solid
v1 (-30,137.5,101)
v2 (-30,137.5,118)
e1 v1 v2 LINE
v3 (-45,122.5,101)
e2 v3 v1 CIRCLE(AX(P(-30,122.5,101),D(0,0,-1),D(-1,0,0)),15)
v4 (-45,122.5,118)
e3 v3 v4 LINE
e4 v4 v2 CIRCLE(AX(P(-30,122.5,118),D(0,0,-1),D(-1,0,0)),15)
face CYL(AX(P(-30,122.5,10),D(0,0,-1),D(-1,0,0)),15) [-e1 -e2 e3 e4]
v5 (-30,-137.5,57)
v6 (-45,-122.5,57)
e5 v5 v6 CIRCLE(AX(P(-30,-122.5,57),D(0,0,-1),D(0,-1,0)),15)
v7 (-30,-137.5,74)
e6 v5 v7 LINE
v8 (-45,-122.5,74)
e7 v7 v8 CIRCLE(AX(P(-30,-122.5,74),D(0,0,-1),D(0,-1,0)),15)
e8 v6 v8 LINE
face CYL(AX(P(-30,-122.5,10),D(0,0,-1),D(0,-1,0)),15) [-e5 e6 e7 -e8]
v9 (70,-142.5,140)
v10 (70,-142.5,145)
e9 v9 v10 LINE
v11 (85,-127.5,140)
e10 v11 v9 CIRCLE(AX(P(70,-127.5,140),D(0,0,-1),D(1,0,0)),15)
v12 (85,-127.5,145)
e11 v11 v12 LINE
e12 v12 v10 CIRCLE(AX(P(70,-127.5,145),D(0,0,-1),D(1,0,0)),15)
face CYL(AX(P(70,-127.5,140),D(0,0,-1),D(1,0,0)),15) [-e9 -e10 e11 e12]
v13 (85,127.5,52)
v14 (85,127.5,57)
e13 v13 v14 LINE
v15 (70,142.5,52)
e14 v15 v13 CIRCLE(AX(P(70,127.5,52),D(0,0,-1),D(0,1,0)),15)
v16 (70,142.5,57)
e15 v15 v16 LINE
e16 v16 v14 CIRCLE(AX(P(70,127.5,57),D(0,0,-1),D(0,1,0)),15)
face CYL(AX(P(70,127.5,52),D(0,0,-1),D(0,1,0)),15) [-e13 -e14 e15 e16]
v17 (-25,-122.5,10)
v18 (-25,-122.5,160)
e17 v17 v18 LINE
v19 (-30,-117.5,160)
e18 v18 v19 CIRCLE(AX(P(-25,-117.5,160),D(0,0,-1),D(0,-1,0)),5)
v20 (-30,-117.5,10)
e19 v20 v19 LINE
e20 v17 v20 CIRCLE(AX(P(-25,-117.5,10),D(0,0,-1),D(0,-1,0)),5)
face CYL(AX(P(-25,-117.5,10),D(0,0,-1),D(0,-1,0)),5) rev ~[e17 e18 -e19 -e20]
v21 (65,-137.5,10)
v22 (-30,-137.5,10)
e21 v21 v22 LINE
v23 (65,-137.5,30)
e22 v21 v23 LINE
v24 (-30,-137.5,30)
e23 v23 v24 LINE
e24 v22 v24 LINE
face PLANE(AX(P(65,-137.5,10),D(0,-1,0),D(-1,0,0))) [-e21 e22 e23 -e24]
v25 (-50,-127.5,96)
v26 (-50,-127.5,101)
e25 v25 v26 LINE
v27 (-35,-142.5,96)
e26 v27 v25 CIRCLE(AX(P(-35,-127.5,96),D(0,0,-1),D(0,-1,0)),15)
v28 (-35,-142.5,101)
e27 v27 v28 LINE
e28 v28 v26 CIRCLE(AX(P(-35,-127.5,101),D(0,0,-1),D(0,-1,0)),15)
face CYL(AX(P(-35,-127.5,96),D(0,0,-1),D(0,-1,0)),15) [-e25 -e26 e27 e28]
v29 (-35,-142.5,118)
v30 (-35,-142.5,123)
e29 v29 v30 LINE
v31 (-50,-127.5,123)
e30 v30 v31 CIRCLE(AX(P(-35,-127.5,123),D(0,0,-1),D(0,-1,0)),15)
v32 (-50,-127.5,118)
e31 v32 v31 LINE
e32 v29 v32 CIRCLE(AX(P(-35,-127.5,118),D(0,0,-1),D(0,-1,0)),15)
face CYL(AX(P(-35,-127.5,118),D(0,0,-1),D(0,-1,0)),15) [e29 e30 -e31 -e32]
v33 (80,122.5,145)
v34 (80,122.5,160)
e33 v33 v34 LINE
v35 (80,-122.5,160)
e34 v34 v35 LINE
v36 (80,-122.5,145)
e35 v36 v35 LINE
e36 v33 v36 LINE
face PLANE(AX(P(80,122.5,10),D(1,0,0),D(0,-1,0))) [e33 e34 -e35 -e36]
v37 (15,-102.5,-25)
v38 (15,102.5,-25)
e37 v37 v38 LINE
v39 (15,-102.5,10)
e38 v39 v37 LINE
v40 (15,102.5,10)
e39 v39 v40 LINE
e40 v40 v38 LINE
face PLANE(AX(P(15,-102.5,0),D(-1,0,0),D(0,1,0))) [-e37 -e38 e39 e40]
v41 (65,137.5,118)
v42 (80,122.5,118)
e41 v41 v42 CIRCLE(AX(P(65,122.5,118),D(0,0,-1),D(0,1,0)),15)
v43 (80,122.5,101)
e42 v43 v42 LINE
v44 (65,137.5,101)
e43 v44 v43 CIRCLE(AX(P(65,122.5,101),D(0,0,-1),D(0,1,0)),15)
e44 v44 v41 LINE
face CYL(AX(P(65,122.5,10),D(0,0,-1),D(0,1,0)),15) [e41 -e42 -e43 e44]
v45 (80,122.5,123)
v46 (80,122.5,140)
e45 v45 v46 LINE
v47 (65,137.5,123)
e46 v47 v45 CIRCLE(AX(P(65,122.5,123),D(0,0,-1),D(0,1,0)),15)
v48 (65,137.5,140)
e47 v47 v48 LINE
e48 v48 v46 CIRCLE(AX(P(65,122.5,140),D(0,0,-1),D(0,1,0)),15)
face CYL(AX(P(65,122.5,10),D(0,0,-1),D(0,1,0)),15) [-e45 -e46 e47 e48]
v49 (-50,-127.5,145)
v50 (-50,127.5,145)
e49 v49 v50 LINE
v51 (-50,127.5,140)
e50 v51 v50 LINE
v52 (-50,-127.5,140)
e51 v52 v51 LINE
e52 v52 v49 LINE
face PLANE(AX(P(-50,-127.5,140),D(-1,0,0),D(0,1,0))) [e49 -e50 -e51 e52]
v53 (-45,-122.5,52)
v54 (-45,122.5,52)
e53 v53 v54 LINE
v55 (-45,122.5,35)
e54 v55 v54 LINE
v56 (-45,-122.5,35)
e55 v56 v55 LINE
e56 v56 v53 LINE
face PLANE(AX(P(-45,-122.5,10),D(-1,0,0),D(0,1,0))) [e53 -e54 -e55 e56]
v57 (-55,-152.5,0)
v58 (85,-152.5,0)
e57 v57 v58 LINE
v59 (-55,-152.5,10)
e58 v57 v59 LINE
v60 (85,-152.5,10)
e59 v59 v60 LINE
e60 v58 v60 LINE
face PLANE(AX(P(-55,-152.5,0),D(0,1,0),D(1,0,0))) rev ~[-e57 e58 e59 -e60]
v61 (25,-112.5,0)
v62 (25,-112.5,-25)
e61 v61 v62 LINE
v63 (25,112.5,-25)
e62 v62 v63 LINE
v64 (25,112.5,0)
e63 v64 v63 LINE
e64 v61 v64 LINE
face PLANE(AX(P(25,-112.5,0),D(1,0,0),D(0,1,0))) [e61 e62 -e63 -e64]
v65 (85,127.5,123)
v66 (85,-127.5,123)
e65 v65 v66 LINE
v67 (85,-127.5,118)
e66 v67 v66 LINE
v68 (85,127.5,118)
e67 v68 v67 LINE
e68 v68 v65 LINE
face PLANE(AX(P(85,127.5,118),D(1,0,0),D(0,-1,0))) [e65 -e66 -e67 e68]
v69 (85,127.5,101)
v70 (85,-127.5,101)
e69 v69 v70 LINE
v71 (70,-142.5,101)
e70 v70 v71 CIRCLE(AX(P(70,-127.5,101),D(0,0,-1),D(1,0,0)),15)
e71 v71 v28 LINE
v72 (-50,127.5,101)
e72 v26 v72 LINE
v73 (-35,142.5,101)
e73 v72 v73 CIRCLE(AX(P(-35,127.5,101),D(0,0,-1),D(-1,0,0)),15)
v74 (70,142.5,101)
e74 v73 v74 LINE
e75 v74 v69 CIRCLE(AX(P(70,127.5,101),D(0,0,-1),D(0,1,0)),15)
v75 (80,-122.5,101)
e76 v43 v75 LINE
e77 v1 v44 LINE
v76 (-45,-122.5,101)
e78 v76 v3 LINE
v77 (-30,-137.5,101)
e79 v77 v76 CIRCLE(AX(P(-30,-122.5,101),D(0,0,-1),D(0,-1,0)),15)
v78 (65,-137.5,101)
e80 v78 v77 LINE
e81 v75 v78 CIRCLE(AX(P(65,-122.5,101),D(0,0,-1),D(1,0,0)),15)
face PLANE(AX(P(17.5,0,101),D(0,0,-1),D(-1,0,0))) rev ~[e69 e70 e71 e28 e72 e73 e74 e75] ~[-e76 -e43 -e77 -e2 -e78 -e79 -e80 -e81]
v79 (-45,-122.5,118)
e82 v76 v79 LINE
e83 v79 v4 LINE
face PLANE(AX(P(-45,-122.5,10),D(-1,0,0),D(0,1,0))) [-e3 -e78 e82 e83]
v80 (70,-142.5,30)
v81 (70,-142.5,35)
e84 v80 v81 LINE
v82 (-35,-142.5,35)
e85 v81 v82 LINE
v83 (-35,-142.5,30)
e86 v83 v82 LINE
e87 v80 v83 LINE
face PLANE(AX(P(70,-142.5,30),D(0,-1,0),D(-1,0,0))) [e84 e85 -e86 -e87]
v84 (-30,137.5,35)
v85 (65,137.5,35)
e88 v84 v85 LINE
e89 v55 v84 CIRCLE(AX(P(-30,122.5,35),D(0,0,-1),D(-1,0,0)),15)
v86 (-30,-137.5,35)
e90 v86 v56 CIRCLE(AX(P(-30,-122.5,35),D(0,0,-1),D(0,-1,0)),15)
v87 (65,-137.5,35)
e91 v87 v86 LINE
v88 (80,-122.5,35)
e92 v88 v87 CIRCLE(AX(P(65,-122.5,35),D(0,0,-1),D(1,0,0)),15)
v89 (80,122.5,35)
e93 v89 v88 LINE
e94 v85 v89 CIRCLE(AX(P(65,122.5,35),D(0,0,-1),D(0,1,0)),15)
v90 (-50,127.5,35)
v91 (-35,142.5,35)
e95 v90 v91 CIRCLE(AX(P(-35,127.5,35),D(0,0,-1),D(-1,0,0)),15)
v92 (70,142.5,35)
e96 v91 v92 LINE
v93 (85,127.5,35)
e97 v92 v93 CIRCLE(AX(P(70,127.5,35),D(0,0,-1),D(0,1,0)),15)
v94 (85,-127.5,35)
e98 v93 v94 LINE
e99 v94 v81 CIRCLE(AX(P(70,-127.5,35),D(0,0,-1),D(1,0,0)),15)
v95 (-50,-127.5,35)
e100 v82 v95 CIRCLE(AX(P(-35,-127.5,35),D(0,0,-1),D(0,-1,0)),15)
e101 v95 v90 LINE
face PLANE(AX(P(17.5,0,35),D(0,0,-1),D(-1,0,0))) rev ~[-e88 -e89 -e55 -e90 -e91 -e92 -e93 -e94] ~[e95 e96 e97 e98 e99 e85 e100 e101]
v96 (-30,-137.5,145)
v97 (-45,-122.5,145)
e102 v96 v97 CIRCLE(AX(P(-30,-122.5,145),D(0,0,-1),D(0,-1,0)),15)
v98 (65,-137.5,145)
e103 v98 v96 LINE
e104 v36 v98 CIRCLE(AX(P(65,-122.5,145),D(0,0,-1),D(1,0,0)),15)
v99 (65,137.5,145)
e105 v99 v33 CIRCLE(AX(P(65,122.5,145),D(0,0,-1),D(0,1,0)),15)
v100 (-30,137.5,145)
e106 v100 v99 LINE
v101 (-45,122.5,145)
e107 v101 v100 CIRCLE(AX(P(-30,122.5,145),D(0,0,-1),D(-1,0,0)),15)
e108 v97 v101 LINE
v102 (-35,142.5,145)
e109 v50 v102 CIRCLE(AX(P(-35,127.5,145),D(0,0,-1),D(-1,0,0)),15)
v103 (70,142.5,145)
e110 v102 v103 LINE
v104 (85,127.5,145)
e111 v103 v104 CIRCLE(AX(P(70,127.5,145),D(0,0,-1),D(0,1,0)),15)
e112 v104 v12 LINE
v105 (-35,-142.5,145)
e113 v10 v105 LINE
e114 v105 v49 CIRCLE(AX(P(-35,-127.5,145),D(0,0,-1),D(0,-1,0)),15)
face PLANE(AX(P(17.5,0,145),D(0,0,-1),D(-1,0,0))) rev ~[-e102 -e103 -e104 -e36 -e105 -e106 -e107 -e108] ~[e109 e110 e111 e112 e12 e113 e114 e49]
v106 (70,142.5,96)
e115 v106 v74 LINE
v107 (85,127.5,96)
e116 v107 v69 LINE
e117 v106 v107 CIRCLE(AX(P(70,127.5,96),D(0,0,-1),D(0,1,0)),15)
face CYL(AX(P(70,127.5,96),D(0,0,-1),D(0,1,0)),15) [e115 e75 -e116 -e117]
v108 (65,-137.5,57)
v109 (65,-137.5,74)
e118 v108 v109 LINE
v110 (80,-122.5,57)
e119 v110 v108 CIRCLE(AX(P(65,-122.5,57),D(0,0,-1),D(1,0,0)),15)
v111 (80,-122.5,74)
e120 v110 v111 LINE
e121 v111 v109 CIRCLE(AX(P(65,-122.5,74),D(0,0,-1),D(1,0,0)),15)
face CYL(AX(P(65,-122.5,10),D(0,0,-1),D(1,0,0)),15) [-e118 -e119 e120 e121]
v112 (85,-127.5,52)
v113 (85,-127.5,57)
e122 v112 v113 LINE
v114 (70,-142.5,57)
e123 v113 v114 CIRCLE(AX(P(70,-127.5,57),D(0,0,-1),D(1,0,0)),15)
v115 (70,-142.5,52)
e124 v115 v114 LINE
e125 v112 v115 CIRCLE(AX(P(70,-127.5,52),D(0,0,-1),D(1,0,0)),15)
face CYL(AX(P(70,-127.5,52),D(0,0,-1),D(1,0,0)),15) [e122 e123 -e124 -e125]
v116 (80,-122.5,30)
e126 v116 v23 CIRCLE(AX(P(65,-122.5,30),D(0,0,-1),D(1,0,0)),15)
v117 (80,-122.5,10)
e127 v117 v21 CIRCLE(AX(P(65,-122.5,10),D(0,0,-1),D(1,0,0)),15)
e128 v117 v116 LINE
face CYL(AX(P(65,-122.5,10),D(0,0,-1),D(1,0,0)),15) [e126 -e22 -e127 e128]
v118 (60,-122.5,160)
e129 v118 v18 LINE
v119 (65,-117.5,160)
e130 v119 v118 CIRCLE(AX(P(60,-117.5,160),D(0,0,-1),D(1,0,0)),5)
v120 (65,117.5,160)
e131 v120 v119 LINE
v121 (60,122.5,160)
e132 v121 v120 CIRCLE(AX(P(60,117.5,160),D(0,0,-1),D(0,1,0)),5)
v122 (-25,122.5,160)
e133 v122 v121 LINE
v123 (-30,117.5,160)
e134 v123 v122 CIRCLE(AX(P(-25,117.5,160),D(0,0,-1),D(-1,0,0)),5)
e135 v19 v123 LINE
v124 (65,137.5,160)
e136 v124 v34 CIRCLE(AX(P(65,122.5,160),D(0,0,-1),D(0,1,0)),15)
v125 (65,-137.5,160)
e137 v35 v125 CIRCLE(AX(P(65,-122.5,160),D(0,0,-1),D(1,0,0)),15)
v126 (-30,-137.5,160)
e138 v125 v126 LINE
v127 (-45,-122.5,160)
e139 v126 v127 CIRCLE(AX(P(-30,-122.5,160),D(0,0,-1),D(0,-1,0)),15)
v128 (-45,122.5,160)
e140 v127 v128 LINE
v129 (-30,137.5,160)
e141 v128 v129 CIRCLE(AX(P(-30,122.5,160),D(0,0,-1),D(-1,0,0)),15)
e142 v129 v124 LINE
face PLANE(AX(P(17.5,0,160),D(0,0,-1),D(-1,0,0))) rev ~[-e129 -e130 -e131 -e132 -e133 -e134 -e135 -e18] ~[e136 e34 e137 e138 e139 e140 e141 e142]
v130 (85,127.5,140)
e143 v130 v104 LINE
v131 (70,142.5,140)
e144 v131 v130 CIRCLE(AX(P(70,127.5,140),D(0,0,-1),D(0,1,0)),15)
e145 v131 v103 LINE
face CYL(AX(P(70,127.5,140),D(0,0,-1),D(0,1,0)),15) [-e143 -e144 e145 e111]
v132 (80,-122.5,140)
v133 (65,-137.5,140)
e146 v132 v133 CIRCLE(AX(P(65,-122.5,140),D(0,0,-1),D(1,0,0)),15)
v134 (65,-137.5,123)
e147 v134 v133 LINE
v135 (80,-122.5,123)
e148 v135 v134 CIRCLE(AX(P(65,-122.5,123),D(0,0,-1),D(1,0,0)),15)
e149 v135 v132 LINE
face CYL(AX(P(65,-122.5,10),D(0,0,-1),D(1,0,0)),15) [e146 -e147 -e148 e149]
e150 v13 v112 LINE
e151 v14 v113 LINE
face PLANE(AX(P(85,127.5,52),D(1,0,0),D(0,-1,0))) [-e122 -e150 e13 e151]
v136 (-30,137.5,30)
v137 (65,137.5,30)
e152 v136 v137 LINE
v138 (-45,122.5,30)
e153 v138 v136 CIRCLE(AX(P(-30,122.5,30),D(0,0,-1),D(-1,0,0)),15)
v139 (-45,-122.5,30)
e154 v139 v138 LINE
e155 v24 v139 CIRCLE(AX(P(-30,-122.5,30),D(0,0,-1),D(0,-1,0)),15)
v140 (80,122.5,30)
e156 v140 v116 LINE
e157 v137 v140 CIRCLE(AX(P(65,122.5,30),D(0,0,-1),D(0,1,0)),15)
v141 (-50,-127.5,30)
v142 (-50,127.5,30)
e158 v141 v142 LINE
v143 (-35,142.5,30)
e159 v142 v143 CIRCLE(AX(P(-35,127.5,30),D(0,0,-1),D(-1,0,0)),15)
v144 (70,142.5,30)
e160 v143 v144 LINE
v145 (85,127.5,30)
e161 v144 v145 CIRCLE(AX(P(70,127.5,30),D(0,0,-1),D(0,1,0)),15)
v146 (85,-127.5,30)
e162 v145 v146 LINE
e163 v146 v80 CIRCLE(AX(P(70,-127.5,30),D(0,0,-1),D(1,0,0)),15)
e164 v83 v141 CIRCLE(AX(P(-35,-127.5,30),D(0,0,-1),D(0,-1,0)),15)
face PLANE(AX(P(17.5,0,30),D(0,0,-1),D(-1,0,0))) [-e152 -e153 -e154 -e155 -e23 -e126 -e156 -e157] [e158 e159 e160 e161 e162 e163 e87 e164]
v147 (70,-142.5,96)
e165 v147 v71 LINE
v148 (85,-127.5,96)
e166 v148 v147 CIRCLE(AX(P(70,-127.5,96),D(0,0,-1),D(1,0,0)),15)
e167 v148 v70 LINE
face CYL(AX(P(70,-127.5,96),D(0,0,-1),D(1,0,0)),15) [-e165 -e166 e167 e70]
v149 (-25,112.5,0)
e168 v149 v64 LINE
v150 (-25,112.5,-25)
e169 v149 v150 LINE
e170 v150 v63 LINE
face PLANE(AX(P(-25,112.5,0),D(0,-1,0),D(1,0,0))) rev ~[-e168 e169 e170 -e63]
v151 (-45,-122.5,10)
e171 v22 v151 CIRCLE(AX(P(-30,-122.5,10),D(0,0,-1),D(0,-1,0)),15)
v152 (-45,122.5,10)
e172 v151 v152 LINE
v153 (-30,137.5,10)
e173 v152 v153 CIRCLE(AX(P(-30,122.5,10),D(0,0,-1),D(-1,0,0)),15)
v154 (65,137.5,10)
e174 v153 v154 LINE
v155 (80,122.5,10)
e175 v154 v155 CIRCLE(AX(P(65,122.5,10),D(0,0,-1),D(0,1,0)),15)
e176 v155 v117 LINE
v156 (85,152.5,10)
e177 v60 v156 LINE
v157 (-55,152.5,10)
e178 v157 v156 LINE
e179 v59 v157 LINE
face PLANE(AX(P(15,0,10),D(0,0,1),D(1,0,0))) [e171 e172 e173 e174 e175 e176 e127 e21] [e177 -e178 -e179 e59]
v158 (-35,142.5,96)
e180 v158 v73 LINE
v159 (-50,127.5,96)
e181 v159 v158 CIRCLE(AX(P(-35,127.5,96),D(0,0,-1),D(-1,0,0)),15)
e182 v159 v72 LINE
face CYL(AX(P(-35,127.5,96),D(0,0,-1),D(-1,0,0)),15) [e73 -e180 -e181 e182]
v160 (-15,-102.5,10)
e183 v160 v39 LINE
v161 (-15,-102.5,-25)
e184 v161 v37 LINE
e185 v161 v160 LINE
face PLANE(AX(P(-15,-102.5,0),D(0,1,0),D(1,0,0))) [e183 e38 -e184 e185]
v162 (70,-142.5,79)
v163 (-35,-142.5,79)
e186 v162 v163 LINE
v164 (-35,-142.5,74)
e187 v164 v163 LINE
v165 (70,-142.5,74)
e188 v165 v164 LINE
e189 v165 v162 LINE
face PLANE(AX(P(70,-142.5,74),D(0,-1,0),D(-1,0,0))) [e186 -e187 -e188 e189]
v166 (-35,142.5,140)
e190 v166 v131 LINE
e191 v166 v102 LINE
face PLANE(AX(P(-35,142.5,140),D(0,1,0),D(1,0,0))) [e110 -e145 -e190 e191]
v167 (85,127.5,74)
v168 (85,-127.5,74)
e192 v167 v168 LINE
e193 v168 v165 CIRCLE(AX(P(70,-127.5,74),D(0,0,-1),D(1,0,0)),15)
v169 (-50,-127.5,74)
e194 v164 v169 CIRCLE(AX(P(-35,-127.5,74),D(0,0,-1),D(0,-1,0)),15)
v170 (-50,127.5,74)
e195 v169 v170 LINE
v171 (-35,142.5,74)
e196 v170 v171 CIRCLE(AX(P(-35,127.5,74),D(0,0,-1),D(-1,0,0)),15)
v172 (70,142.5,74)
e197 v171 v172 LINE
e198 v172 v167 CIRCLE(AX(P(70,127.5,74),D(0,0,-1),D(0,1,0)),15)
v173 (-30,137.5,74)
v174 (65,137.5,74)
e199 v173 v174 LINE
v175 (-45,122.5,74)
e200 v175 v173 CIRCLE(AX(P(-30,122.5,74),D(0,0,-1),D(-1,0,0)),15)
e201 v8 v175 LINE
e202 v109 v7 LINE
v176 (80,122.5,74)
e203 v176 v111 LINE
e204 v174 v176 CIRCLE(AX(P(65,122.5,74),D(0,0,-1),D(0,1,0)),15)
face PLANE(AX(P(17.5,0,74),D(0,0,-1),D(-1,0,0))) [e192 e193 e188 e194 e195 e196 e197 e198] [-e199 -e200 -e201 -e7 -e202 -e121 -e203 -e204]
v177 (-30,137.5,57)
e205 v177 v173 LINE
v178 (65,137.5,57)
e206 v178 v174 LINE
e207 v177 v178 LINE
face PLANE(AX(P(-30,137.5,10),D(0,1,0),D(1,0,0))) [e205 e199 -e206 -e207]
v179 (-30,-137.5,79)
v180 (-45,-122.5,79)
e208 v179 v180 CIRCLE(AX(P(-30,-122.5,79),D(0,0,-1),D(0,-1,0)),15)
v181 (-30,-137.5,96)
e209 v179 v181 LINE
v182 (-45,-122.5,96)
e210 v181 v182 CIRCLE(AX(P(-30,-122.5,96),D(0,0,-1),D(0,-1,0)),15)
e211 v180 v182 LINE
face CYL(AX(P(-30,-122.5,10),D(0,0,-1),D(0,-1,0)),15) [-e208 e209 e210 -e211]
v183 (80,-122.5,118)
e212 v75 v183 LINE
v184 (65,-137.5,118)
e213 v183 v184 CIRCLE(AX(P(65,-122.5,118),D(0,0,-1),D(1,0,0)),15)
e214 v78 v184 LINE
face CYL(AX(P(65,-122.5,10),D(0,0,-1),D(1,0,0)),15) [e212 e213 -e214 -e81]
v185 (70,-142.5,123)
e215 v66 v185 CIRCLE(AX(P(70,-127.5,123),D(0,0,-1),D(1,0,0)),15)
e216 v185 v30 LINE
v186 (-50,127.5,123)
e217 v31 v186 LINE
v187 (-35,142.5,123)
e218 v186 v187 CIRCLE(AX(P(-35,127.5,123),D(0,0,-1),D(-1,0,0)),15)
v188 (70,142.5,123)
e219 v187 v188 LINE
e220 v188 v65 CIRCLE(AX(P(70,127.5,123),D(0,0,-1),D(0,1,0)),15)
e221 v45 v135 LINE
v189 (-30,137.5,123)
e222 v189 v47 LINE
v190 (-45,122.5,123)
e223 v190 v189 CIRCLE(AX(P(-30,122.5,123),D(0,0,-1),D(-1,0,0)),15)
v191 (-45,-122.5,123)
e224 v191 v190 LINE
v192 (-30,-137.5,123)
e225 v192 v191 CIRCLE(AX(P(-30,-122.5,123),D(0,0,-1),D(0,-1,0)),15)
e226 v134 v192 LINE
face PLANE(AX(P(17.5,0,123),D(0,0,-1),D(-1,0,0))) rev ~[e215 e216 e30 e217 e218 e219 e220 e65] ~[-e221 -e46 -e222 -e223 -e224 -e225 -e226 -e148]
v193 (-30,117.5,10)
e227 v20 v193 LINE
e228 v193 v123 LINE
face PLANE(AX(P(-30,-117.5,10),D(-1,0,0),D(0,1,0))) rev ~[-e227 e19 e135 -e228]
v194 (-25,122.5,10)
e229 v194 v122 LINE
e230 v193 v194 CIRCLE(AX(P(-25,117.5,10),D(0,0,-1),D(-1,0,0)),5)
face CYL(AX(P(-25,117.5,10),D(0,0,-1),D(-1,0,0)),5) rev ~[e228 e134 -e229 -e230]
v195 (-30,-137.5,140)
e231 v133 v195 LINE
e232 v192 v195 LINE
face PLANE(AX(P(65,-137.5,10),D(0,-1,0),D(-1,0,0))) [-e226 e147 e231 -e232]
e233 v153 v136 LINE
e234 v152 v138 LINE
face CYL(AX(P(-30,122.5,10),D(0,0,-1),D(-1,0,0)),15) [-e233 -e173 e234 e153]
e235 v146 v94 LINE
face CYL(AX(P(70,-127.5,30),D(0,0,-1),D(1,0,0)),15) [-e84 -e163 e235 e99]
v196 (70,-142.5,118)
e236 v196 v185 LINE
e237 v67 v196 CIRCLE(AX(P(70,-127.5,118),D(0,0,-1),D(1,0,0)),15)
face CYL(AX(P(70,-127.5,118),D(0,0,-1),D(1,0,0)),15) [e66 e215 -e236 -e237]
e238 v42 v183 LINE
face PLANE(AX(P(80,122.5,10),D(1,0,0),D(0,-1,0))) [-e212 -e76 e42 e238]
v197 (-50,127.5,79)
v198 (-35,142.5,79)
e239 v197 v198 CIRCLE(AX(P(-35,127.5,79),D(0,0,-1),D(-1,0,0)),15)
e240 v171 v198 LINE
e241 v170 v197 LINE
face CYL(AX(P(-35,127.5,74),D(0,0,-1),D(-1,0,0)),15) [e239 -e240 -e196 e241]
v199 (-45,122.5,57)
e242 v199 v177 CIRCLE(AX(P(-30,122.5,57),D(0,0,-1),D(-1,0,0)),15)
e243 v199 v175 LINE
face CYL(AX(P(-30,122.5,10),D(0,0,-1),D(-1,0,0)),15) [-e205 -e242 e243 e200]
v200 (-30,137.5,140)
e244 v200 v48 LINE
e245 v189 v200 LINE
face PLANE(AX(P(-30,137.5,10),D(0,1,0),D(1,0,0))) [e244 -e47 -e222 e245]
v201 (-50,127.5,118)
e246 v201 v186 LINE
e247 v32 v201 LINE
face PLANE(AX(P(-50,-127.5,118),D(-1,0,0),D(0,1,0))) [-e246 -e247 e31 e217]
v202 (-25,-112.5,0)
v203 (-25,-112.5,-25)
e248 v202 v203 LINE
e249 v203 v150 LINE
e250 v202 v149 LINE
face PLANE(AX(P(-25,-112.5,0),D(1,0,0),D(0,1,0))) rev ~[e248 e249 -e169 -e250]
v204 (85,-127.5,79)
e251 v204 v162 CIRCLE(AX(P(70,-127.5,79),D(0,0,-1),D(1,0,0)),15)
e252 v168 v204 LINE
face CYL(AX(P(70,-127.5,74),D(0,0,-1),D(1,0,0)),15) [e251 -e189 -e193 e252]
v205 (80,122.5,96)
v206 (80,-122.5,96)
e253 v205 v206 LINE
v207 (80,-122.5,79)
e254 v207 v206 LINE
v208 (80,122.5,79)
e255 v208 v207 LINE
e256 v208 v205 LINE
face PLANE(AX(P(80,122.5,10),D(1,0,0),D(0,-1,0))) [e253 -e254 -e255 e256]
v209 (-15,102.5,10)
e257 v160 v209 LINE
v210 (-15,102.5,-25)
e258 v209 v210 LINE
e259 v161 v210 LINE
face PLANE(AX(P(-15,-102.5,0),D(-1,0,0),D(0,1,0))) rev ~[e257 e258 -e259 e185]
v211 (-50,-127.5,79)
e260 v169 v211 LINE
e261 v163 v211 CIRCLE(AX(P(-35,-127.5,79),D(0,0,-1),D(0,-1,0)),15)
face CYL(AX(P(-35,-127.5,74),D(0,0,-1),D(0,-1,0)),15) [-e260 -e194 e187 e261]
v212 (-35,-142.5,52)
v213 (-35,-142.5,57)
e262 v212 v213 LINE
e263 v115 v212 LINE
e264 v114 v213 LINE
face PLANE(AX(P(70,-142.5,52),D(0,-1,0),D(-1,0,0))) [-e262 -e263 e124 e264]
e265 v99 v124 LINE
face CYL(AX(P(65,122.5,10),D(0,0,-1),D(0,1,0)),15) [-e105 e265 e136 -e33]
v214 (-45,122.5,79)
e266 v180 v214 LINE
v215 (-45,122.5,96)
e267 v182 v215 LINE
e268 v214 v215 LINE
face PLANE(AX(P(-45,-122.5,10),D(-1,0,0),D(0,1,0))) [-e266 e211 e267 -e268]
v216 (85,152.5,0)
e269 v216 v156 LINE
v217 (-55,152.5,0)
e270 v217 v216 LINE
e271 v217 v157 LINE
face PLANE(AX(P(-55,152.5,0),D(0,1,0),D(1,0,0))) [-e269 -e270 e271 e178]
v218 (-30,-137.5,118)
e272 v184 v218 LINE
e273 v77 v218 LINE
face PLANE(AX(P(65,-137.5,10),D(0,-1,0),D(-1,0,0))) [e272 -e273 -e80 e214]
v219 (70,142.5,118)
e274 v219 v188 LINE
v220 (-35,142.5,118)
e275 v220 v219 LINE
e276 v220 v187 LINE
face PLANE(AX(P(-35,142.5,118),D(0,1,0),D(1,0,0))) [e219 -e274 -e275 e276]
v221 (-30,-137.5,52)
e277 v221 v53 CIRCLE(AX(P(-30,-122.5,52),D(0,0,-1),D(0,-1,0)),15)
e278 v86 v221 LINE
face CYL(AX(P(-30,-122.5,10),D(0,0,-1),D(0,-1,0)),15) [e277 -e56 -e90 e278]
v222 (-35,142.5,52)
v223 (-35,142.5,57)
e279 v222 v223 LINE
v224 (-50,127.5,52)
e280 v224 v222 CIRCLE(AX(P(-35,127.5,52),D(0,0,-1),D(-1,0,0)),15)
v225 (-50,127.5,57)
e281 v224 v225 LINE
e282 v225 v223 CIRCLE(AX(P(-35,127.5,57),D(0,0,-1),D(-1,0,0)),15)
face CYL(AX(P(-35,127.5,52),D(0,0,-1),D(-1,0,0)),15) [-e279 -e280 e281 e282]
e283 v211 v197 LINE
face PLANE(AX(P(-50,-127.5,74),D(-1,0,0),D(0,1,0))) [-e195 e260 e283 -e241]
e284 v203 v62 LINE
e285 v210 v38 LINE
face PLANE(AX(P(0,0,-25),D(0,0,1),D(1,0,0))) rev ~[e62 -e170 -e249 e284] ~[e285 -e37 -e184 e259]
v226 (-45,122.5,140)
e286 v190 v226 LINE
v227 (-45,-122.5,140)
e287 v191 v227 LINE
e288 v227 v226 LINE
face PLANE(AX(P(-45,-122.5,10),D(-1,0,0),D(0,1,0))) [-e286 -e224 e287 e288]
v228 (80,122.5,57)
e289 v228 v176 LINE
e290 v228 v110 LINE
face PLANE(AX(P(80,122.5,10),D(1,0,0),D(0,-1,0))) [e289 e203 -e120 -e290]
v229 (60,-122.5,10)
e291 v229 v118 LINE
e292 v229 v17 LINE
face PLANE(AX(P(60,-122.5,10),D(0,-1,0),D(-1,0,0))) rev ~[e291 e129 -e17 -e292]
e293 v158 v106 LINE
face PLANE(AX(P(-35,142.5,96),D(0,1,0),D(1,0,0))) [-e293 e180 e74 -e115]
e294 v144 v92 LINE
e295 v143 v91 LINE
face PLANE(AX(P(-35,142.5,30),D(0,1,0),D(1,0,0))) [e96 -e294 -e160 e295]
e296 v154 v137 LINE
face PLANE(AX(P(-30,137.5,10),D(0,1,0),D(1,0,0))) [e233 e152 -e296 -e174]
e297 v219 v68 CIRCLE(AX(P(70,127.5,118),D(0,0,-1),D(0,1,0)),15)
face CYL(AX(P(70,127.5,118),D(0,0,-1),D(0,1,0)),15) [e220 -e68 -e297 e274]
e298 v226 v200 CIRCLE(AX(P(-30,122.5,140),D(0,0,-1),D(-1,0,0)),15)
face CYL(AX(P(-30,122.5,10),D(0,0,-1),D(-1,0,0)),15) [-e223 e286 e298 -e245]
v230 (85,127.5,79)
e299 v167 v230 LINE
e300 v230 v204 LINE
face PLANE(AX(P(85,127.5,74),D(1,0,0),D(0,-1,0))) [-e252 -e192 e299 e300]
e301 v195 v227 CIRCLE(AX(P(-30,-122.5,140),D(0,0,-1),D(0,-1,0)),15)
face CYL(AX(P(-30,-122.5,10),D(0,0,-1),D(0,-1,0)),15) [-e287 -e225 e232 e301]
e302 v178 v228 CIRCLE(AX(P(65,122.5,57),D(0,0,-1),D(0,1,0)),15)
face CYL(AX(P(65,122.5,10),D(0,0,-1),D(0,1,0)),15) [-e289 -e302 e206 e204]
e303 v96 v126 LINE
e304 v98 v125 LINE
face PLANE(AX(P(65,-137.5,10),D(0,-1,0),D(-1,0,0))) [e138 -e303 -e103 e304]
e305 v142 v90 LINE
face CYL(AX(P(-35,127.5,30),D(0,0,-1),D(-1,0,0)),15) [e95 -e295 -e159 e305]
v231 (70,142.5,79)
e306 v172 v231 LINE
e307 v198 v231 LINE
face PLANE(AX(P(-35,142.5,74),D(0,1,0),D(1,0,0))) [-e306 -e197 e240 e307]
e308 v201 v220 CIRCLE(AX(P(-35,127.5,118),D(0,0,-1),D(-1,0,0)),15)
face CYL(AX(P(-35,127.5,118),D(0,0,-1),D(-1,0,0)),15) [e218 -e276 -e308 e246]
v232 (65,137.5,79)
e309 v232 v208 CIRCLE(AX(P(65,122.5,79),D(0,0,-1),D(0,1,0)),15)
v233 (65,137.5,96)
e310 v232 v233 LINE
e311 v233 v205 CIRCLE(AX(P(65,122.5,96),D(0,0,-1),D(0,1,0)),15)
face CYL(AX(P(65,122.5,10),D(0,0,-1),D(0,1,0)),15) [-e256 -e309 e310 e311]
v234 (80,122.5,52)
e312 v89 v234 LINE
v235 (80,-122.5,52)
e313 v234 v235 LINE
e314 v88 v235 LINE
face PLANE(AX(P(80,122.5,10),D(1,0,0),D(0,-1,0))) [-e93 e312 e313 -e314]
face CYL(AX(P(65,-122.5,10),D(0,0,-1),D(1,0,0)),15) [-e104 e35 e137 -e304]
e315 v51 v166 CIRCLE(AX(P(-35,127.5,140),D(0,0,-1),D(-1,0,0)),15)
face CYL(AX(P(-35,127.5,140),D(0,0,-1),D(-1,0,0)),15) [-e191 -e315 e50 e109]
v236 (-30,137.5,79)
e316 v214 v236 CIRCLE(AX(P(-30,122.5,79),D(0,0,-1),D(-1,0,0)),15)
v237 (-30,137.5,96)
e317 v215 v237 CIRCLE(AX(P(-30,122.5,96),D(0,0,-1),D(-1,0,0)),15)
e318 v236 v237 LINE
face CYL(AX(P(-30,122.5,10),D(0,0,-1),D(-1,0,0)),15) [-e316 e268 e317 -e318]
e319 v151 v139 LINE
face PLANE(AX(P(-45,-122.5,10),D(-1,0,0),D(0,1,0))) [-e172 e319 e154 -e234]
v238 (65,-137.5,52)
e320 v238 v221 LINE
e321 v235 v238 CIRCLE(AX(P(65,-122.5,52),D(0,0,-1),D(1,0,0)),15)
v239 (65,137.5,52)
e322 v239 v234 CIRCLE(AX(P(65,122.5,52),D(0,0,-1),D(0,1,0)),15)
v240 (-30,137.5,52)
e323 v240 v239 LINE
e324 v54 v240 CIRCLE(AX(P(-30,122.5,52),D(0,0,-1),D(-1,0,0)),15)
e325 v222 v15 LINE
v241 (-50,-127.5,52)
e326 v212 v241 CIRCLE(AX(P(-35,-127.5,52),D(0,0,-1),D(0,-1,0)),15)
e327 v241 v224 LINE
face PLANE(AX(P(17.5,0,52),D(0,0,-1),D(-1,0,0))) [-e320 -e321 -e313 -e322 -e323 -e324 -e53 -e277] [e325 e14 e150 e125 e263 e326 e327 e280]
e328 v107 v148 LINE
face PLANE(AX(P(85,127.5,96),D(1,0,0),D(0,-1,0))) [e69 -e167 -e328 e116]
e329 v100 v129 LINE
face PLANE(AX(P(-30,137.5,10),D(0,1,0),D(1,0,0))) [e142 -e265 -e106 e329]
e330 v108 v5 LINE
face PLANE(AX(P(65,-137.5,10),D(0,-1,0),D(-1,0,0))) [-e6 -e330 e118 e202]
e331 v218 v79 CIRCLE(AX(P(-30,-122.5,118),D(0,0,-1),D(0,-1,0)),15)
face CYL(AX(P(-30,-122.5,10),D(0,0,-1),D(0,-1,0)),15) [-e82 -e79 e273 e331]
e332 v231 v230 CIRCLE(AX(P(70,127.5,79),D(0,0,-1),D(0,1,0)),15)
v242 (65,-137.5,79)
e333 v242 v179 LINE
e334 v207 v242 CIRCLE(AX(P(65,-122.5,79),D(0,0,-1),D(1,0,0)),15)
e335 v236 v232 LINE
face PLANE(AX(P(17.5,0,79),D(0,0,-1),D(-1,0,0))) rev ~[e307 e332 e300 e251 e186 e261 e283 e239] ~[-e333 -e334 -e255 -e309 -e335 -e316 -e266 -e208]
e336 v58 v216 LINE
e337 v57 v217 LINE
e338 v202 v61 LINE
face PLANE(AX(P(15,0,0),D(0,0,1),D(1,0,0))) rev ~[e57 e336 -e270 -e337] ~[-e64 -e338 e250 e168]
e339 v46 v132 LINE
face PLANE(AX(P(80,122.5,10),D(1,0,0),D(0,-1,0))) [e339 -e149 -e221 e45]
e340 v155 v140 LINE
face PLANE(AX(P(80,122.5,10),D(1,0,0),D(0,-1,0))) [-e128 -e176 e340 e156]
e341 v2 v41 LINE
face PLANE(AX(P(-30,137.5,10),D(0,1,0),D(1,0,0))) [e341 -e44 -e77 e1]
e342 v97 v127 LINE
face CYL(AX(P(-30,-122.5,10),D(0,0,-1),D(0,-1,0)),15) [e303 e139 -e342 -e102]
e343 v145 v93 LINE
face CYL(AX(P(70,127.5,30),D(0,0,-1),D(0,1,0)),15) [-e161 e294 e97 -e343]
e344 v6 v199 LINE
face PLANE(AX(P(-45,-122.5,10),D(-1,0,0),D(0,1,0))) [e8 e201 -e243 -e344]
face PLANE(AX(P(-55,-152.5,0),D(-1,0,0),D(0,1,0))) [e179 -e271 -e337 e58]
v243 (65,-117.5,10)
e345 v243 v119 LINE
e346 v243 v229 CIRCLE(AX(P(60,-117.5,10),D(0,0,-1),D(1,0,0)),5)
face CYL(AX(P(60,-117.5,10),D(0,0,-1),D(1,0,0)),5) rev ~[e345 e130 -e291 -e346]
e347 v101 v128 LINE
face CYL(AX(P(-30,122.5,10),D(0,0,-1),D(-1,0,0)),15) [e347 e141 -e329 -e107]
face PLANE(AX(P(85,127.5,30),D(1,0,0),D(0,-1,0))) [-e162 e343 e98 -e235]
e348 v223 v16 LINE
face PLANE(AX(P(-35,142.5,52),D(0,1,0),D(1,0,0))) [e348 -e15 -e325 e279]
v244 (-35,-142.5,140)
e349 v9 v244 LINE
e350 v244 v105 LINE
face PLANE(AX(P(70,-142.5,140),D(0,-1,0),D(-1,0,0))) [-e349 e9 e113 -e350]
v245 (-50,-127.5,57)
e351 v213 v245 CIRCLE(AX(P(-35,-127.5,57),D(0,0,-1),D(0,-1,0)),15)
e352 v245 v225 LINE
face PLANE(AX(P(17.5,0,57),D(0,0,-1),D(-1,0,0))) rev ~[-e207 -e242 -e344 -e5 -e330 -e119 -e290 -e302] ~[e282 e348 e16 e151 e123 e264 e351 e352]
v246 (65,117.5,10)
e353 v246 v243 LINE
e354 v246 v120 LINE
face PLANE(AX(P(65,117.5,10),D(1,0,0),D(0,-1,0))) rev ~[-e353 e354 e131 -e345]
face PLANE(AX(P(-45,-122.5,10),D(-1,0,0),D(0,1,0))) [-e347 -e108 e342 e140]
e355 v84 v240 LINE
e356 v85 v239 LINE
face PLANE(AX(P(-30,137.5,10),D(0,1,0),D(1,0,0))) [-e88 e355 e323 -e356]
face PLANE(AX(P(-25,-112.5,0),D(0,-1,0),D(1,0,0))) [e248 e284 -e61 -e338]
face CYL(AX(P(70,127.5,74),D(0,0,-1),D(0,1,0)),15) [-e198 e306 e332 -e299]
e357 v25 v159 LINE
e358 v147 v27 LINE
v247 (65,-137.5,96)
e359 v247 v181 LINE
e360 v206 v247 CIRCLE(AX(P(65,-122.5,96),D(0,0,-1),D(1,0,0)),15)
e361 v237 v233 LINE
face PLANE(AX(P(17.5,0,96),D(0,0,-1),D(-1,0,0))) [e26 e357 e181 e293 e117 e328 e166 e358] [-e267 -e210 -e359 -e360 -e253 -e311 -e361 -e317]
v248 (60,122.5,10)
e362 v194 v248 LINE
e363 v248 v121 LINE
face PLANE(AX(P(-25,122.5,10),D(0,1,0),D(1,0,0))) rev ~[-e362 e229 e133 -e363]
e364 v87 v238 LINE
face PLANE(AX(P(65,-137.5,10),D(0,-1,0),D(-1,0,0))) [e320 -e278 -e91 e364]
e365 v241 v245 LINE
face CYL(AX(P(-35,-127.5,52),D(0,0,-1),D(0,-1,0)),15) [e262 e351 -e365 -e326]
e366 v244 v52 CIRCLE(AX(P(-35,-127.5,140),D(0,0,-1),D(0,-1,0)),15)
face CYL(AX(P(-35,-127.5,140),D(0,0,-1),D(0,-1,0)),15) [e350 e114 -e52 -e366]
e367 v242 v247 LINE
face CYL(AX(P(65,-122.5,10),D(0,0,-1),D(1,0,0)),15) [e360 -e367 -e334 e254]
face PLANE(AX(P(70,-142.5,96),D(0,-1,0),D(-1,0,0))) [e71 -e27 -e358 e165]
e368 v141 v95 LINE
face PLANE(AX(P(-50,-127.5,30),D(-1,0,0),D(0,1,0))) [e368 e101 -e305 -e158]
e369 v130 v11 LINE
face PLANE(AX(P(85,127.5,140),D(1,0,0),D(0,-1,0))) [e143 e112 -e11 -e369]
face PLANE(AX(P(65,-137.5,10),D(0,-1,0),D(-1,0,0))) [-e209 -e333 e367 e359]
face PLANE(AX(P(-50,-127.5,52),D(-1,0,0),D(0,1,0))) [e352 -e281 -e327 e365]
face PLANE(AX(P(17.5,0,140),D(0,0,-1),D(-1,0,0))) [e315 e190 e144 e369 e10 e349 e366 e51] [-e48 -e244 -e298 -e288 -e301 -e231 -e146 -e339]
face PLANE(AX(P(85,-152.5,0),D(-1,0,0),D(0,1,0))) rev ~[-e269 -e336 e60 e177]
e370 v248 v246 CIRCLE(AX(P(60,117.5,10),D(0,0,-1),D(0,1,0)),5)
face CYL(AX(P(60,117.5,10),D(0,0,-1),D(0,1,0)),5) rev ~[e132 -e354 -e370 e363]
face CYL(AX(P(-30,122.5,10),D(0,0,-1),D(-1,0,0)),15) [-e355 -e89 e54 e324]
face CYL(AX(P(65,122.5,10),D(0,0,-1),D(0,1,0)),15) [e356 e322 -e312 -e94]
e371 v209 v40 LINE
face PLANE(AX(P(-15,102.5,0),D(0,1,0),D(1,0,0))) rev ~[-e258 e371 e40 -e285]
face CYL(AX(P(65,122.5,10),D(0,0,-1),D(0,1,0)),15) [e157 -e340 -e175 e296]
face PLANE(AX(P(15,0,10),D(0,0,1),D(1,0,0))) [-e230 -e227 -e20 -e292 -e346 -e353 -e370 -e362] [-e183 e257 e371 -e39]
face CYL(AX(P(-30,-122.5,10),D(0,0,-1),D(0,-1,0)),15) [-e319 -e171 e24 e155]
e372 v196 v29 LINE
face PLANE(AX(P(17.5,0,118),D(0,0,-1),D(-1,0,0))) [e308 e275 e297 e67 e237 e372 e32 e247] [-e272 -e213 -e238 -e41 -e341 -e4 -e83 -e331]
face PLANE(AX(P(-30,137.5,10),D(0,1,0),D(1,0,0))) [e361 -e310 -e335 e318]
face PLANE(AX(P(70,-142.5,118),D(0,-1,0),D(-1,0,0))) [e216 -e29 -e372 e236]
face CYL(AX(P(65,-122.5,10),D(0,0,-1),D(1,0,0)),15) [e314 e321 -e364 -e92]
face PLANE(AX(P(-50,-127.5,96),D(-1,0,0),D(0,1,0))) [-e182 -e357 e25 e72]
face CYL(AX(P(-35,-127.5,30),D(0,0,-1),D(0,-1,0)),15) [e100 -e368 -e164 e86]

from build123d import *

# Parameters (mm, degrees)
SKETCH2_W           = 50
SKETCH2_H           = 225
SKETCH2_W_2         = 30
SKETCH2_H_2         = 205
BOSS_EXTRUDE1_DEPTH = 25
SKETCH3_W           = 140
SKETCH3_H           = 305
SKETCH3_W_2         = 30
SKETCH3_H_2         = 205
BOSS_EXTRUDE2_DEPTH = 10
BOSS_EXTRUDE3_DEPTH = 150
BOSS_EXTRUDE4_START = 20
BOSS_EXTRUDE4_DEPTH = 5
LPATTERN1_COUNT     = 6
LPATTERN1_PITCH     = 22


with BuildPart() as part:
    # Sketch2 → Boss-Extrude1 (new body)
    with BuildSketch(Plane.XY):
        Rectangle(SKETCH2_W, SKETCH2_H)
        Rectangle(SKETCH2_W_2, SKETCH2_H_2, mode=Mode.SUBTRACT)
    extrude(amount=-BOSS_EXTRUDE1_DEPTH)

    # Sketch3 → Boss-Extrude2 (add)
    with BuildSketch(Plane.XY):
        with Locations((15, 0)):
            Rectangle(SKETCH3_W, SKETCH3_H)
        Rectangle(SKETCH3_W_2, SKETCH3_H_2, mode=Mode.SUBTRACT)
    extrude(amount=BOSS_EXTRUDE2_DEPTH)

    # Sketch4 → Boss-Extrude3 (add)
    with BuildSketch(Plane.XY.offset(10)):
        with BuildLine():
            Line((-30, 137.5), (65, 137.5))
            ThreePointArc((65, 137.5), (75.606601718, 133.106601718), (80, 122.5))
            Line((80, 122.5), (80, -122.5))
            ThreePointArc((80, -122.5), (75.606601718, -133.106601718), (65, -137.5))
            Line((65, -137.5), (-30, -137.5))
            ThreePointArc((-30, -137.5), (-40.606601718, -133.106601718), (-45, -122.5))
            Line((-45, -122.5), (-45, 122.5))
            ThreePointArc((-45, 122.5), (-40.606601718, 133.106601718), (-30, 137.5))
        make_face()
        with BuildLine():
            Line((-25, 122.5), (60, 122.5))
            ThreePointArc((60, 122.5), (63.535533906, 121.035533906), (65, 117.5))
            Line((65, 117.5), (65, -117.5))
            ThreePointArc((65, -117.5), (63.535533906, -121.035533906), (60, -122.5))
            Line((60, -122.5), (-25, -122.5))
            ThreePointArc((-25, -122.5), (-28.535533906, -121.035533906), (-30, -117.5))
            Line((-30, -117.5), (-30, 117.5))
            ThreePointArc((-30, 117.5), (-28.535533906, 121.035533906), (-25, 122.5))
        make_face(mode=Mode.SUBTRACT)
    extrude(amount=BOSS_EXTRUDE3_DEPTH)

    # Sketch5 → Boss-Extrude4 (add)
    with BuildSketch(Plane.XY.offset(10).offset(BOSS_EXTRUDE4_START)):
        with BuildLine():
            Line((-35, 142.5), (70, 142.5))
            ThreePointArc((70, 142.5), (80.606601718, 138.106601718), (85, 127.5))
            Line((85, 127.5), (85, -127.5))
            ThreePointArc((85, -127.5), (80.606601718, -138.106601718), (70, -142.5))
            Line((70, -142.5), (-35, -142.5))
            ThreePointArc((-35, -142.5), (-45.606601718, -138.106601718), (-50, -127.5))
            Line((-50, -127.5), (-50, 127.5))
            ThreePointArc((-50, 127.5), (-45.606601718, 138.106601718), (-35, 142.5))
        make_face()
        with BuildLine():
            Line((-30, 137.5), (65, 137.5))
            ThreePointArc((65, 137.5), (75.606601718, 133.106601718), (80, 122.5))
            Line((80, 122.5), (80, -122.5))
            ThreePointArc((80, -122.5), (75.606601718, -133.106601718), (65, -137.5))
            Line((65, -137.5), (-30, -137.5))
            ThreePointArc((-30, -137.5), (-40.606601718, -133.106601718), (-45, -122.5))
            Line((-45, -122.5), (-45, 122.5))
            ThreePointArc((-45, 122.5), (-40.606601718, 133.106601718), (-30, 137.5))
        make_face(mode=Mode.SUBTRACT)
    boss_extrude4 = extrude(amount=BOSS_EXTRUDE4_DEPTH)

    # LPattern1: Boss-Extrude4 ×6
    with Locations(*[(0, 0, i * LPATTERN1_PITCH) for i in range(1, LPATTERN1_COUNT)]):
        add(boss_extrude4)


solid = part.part
